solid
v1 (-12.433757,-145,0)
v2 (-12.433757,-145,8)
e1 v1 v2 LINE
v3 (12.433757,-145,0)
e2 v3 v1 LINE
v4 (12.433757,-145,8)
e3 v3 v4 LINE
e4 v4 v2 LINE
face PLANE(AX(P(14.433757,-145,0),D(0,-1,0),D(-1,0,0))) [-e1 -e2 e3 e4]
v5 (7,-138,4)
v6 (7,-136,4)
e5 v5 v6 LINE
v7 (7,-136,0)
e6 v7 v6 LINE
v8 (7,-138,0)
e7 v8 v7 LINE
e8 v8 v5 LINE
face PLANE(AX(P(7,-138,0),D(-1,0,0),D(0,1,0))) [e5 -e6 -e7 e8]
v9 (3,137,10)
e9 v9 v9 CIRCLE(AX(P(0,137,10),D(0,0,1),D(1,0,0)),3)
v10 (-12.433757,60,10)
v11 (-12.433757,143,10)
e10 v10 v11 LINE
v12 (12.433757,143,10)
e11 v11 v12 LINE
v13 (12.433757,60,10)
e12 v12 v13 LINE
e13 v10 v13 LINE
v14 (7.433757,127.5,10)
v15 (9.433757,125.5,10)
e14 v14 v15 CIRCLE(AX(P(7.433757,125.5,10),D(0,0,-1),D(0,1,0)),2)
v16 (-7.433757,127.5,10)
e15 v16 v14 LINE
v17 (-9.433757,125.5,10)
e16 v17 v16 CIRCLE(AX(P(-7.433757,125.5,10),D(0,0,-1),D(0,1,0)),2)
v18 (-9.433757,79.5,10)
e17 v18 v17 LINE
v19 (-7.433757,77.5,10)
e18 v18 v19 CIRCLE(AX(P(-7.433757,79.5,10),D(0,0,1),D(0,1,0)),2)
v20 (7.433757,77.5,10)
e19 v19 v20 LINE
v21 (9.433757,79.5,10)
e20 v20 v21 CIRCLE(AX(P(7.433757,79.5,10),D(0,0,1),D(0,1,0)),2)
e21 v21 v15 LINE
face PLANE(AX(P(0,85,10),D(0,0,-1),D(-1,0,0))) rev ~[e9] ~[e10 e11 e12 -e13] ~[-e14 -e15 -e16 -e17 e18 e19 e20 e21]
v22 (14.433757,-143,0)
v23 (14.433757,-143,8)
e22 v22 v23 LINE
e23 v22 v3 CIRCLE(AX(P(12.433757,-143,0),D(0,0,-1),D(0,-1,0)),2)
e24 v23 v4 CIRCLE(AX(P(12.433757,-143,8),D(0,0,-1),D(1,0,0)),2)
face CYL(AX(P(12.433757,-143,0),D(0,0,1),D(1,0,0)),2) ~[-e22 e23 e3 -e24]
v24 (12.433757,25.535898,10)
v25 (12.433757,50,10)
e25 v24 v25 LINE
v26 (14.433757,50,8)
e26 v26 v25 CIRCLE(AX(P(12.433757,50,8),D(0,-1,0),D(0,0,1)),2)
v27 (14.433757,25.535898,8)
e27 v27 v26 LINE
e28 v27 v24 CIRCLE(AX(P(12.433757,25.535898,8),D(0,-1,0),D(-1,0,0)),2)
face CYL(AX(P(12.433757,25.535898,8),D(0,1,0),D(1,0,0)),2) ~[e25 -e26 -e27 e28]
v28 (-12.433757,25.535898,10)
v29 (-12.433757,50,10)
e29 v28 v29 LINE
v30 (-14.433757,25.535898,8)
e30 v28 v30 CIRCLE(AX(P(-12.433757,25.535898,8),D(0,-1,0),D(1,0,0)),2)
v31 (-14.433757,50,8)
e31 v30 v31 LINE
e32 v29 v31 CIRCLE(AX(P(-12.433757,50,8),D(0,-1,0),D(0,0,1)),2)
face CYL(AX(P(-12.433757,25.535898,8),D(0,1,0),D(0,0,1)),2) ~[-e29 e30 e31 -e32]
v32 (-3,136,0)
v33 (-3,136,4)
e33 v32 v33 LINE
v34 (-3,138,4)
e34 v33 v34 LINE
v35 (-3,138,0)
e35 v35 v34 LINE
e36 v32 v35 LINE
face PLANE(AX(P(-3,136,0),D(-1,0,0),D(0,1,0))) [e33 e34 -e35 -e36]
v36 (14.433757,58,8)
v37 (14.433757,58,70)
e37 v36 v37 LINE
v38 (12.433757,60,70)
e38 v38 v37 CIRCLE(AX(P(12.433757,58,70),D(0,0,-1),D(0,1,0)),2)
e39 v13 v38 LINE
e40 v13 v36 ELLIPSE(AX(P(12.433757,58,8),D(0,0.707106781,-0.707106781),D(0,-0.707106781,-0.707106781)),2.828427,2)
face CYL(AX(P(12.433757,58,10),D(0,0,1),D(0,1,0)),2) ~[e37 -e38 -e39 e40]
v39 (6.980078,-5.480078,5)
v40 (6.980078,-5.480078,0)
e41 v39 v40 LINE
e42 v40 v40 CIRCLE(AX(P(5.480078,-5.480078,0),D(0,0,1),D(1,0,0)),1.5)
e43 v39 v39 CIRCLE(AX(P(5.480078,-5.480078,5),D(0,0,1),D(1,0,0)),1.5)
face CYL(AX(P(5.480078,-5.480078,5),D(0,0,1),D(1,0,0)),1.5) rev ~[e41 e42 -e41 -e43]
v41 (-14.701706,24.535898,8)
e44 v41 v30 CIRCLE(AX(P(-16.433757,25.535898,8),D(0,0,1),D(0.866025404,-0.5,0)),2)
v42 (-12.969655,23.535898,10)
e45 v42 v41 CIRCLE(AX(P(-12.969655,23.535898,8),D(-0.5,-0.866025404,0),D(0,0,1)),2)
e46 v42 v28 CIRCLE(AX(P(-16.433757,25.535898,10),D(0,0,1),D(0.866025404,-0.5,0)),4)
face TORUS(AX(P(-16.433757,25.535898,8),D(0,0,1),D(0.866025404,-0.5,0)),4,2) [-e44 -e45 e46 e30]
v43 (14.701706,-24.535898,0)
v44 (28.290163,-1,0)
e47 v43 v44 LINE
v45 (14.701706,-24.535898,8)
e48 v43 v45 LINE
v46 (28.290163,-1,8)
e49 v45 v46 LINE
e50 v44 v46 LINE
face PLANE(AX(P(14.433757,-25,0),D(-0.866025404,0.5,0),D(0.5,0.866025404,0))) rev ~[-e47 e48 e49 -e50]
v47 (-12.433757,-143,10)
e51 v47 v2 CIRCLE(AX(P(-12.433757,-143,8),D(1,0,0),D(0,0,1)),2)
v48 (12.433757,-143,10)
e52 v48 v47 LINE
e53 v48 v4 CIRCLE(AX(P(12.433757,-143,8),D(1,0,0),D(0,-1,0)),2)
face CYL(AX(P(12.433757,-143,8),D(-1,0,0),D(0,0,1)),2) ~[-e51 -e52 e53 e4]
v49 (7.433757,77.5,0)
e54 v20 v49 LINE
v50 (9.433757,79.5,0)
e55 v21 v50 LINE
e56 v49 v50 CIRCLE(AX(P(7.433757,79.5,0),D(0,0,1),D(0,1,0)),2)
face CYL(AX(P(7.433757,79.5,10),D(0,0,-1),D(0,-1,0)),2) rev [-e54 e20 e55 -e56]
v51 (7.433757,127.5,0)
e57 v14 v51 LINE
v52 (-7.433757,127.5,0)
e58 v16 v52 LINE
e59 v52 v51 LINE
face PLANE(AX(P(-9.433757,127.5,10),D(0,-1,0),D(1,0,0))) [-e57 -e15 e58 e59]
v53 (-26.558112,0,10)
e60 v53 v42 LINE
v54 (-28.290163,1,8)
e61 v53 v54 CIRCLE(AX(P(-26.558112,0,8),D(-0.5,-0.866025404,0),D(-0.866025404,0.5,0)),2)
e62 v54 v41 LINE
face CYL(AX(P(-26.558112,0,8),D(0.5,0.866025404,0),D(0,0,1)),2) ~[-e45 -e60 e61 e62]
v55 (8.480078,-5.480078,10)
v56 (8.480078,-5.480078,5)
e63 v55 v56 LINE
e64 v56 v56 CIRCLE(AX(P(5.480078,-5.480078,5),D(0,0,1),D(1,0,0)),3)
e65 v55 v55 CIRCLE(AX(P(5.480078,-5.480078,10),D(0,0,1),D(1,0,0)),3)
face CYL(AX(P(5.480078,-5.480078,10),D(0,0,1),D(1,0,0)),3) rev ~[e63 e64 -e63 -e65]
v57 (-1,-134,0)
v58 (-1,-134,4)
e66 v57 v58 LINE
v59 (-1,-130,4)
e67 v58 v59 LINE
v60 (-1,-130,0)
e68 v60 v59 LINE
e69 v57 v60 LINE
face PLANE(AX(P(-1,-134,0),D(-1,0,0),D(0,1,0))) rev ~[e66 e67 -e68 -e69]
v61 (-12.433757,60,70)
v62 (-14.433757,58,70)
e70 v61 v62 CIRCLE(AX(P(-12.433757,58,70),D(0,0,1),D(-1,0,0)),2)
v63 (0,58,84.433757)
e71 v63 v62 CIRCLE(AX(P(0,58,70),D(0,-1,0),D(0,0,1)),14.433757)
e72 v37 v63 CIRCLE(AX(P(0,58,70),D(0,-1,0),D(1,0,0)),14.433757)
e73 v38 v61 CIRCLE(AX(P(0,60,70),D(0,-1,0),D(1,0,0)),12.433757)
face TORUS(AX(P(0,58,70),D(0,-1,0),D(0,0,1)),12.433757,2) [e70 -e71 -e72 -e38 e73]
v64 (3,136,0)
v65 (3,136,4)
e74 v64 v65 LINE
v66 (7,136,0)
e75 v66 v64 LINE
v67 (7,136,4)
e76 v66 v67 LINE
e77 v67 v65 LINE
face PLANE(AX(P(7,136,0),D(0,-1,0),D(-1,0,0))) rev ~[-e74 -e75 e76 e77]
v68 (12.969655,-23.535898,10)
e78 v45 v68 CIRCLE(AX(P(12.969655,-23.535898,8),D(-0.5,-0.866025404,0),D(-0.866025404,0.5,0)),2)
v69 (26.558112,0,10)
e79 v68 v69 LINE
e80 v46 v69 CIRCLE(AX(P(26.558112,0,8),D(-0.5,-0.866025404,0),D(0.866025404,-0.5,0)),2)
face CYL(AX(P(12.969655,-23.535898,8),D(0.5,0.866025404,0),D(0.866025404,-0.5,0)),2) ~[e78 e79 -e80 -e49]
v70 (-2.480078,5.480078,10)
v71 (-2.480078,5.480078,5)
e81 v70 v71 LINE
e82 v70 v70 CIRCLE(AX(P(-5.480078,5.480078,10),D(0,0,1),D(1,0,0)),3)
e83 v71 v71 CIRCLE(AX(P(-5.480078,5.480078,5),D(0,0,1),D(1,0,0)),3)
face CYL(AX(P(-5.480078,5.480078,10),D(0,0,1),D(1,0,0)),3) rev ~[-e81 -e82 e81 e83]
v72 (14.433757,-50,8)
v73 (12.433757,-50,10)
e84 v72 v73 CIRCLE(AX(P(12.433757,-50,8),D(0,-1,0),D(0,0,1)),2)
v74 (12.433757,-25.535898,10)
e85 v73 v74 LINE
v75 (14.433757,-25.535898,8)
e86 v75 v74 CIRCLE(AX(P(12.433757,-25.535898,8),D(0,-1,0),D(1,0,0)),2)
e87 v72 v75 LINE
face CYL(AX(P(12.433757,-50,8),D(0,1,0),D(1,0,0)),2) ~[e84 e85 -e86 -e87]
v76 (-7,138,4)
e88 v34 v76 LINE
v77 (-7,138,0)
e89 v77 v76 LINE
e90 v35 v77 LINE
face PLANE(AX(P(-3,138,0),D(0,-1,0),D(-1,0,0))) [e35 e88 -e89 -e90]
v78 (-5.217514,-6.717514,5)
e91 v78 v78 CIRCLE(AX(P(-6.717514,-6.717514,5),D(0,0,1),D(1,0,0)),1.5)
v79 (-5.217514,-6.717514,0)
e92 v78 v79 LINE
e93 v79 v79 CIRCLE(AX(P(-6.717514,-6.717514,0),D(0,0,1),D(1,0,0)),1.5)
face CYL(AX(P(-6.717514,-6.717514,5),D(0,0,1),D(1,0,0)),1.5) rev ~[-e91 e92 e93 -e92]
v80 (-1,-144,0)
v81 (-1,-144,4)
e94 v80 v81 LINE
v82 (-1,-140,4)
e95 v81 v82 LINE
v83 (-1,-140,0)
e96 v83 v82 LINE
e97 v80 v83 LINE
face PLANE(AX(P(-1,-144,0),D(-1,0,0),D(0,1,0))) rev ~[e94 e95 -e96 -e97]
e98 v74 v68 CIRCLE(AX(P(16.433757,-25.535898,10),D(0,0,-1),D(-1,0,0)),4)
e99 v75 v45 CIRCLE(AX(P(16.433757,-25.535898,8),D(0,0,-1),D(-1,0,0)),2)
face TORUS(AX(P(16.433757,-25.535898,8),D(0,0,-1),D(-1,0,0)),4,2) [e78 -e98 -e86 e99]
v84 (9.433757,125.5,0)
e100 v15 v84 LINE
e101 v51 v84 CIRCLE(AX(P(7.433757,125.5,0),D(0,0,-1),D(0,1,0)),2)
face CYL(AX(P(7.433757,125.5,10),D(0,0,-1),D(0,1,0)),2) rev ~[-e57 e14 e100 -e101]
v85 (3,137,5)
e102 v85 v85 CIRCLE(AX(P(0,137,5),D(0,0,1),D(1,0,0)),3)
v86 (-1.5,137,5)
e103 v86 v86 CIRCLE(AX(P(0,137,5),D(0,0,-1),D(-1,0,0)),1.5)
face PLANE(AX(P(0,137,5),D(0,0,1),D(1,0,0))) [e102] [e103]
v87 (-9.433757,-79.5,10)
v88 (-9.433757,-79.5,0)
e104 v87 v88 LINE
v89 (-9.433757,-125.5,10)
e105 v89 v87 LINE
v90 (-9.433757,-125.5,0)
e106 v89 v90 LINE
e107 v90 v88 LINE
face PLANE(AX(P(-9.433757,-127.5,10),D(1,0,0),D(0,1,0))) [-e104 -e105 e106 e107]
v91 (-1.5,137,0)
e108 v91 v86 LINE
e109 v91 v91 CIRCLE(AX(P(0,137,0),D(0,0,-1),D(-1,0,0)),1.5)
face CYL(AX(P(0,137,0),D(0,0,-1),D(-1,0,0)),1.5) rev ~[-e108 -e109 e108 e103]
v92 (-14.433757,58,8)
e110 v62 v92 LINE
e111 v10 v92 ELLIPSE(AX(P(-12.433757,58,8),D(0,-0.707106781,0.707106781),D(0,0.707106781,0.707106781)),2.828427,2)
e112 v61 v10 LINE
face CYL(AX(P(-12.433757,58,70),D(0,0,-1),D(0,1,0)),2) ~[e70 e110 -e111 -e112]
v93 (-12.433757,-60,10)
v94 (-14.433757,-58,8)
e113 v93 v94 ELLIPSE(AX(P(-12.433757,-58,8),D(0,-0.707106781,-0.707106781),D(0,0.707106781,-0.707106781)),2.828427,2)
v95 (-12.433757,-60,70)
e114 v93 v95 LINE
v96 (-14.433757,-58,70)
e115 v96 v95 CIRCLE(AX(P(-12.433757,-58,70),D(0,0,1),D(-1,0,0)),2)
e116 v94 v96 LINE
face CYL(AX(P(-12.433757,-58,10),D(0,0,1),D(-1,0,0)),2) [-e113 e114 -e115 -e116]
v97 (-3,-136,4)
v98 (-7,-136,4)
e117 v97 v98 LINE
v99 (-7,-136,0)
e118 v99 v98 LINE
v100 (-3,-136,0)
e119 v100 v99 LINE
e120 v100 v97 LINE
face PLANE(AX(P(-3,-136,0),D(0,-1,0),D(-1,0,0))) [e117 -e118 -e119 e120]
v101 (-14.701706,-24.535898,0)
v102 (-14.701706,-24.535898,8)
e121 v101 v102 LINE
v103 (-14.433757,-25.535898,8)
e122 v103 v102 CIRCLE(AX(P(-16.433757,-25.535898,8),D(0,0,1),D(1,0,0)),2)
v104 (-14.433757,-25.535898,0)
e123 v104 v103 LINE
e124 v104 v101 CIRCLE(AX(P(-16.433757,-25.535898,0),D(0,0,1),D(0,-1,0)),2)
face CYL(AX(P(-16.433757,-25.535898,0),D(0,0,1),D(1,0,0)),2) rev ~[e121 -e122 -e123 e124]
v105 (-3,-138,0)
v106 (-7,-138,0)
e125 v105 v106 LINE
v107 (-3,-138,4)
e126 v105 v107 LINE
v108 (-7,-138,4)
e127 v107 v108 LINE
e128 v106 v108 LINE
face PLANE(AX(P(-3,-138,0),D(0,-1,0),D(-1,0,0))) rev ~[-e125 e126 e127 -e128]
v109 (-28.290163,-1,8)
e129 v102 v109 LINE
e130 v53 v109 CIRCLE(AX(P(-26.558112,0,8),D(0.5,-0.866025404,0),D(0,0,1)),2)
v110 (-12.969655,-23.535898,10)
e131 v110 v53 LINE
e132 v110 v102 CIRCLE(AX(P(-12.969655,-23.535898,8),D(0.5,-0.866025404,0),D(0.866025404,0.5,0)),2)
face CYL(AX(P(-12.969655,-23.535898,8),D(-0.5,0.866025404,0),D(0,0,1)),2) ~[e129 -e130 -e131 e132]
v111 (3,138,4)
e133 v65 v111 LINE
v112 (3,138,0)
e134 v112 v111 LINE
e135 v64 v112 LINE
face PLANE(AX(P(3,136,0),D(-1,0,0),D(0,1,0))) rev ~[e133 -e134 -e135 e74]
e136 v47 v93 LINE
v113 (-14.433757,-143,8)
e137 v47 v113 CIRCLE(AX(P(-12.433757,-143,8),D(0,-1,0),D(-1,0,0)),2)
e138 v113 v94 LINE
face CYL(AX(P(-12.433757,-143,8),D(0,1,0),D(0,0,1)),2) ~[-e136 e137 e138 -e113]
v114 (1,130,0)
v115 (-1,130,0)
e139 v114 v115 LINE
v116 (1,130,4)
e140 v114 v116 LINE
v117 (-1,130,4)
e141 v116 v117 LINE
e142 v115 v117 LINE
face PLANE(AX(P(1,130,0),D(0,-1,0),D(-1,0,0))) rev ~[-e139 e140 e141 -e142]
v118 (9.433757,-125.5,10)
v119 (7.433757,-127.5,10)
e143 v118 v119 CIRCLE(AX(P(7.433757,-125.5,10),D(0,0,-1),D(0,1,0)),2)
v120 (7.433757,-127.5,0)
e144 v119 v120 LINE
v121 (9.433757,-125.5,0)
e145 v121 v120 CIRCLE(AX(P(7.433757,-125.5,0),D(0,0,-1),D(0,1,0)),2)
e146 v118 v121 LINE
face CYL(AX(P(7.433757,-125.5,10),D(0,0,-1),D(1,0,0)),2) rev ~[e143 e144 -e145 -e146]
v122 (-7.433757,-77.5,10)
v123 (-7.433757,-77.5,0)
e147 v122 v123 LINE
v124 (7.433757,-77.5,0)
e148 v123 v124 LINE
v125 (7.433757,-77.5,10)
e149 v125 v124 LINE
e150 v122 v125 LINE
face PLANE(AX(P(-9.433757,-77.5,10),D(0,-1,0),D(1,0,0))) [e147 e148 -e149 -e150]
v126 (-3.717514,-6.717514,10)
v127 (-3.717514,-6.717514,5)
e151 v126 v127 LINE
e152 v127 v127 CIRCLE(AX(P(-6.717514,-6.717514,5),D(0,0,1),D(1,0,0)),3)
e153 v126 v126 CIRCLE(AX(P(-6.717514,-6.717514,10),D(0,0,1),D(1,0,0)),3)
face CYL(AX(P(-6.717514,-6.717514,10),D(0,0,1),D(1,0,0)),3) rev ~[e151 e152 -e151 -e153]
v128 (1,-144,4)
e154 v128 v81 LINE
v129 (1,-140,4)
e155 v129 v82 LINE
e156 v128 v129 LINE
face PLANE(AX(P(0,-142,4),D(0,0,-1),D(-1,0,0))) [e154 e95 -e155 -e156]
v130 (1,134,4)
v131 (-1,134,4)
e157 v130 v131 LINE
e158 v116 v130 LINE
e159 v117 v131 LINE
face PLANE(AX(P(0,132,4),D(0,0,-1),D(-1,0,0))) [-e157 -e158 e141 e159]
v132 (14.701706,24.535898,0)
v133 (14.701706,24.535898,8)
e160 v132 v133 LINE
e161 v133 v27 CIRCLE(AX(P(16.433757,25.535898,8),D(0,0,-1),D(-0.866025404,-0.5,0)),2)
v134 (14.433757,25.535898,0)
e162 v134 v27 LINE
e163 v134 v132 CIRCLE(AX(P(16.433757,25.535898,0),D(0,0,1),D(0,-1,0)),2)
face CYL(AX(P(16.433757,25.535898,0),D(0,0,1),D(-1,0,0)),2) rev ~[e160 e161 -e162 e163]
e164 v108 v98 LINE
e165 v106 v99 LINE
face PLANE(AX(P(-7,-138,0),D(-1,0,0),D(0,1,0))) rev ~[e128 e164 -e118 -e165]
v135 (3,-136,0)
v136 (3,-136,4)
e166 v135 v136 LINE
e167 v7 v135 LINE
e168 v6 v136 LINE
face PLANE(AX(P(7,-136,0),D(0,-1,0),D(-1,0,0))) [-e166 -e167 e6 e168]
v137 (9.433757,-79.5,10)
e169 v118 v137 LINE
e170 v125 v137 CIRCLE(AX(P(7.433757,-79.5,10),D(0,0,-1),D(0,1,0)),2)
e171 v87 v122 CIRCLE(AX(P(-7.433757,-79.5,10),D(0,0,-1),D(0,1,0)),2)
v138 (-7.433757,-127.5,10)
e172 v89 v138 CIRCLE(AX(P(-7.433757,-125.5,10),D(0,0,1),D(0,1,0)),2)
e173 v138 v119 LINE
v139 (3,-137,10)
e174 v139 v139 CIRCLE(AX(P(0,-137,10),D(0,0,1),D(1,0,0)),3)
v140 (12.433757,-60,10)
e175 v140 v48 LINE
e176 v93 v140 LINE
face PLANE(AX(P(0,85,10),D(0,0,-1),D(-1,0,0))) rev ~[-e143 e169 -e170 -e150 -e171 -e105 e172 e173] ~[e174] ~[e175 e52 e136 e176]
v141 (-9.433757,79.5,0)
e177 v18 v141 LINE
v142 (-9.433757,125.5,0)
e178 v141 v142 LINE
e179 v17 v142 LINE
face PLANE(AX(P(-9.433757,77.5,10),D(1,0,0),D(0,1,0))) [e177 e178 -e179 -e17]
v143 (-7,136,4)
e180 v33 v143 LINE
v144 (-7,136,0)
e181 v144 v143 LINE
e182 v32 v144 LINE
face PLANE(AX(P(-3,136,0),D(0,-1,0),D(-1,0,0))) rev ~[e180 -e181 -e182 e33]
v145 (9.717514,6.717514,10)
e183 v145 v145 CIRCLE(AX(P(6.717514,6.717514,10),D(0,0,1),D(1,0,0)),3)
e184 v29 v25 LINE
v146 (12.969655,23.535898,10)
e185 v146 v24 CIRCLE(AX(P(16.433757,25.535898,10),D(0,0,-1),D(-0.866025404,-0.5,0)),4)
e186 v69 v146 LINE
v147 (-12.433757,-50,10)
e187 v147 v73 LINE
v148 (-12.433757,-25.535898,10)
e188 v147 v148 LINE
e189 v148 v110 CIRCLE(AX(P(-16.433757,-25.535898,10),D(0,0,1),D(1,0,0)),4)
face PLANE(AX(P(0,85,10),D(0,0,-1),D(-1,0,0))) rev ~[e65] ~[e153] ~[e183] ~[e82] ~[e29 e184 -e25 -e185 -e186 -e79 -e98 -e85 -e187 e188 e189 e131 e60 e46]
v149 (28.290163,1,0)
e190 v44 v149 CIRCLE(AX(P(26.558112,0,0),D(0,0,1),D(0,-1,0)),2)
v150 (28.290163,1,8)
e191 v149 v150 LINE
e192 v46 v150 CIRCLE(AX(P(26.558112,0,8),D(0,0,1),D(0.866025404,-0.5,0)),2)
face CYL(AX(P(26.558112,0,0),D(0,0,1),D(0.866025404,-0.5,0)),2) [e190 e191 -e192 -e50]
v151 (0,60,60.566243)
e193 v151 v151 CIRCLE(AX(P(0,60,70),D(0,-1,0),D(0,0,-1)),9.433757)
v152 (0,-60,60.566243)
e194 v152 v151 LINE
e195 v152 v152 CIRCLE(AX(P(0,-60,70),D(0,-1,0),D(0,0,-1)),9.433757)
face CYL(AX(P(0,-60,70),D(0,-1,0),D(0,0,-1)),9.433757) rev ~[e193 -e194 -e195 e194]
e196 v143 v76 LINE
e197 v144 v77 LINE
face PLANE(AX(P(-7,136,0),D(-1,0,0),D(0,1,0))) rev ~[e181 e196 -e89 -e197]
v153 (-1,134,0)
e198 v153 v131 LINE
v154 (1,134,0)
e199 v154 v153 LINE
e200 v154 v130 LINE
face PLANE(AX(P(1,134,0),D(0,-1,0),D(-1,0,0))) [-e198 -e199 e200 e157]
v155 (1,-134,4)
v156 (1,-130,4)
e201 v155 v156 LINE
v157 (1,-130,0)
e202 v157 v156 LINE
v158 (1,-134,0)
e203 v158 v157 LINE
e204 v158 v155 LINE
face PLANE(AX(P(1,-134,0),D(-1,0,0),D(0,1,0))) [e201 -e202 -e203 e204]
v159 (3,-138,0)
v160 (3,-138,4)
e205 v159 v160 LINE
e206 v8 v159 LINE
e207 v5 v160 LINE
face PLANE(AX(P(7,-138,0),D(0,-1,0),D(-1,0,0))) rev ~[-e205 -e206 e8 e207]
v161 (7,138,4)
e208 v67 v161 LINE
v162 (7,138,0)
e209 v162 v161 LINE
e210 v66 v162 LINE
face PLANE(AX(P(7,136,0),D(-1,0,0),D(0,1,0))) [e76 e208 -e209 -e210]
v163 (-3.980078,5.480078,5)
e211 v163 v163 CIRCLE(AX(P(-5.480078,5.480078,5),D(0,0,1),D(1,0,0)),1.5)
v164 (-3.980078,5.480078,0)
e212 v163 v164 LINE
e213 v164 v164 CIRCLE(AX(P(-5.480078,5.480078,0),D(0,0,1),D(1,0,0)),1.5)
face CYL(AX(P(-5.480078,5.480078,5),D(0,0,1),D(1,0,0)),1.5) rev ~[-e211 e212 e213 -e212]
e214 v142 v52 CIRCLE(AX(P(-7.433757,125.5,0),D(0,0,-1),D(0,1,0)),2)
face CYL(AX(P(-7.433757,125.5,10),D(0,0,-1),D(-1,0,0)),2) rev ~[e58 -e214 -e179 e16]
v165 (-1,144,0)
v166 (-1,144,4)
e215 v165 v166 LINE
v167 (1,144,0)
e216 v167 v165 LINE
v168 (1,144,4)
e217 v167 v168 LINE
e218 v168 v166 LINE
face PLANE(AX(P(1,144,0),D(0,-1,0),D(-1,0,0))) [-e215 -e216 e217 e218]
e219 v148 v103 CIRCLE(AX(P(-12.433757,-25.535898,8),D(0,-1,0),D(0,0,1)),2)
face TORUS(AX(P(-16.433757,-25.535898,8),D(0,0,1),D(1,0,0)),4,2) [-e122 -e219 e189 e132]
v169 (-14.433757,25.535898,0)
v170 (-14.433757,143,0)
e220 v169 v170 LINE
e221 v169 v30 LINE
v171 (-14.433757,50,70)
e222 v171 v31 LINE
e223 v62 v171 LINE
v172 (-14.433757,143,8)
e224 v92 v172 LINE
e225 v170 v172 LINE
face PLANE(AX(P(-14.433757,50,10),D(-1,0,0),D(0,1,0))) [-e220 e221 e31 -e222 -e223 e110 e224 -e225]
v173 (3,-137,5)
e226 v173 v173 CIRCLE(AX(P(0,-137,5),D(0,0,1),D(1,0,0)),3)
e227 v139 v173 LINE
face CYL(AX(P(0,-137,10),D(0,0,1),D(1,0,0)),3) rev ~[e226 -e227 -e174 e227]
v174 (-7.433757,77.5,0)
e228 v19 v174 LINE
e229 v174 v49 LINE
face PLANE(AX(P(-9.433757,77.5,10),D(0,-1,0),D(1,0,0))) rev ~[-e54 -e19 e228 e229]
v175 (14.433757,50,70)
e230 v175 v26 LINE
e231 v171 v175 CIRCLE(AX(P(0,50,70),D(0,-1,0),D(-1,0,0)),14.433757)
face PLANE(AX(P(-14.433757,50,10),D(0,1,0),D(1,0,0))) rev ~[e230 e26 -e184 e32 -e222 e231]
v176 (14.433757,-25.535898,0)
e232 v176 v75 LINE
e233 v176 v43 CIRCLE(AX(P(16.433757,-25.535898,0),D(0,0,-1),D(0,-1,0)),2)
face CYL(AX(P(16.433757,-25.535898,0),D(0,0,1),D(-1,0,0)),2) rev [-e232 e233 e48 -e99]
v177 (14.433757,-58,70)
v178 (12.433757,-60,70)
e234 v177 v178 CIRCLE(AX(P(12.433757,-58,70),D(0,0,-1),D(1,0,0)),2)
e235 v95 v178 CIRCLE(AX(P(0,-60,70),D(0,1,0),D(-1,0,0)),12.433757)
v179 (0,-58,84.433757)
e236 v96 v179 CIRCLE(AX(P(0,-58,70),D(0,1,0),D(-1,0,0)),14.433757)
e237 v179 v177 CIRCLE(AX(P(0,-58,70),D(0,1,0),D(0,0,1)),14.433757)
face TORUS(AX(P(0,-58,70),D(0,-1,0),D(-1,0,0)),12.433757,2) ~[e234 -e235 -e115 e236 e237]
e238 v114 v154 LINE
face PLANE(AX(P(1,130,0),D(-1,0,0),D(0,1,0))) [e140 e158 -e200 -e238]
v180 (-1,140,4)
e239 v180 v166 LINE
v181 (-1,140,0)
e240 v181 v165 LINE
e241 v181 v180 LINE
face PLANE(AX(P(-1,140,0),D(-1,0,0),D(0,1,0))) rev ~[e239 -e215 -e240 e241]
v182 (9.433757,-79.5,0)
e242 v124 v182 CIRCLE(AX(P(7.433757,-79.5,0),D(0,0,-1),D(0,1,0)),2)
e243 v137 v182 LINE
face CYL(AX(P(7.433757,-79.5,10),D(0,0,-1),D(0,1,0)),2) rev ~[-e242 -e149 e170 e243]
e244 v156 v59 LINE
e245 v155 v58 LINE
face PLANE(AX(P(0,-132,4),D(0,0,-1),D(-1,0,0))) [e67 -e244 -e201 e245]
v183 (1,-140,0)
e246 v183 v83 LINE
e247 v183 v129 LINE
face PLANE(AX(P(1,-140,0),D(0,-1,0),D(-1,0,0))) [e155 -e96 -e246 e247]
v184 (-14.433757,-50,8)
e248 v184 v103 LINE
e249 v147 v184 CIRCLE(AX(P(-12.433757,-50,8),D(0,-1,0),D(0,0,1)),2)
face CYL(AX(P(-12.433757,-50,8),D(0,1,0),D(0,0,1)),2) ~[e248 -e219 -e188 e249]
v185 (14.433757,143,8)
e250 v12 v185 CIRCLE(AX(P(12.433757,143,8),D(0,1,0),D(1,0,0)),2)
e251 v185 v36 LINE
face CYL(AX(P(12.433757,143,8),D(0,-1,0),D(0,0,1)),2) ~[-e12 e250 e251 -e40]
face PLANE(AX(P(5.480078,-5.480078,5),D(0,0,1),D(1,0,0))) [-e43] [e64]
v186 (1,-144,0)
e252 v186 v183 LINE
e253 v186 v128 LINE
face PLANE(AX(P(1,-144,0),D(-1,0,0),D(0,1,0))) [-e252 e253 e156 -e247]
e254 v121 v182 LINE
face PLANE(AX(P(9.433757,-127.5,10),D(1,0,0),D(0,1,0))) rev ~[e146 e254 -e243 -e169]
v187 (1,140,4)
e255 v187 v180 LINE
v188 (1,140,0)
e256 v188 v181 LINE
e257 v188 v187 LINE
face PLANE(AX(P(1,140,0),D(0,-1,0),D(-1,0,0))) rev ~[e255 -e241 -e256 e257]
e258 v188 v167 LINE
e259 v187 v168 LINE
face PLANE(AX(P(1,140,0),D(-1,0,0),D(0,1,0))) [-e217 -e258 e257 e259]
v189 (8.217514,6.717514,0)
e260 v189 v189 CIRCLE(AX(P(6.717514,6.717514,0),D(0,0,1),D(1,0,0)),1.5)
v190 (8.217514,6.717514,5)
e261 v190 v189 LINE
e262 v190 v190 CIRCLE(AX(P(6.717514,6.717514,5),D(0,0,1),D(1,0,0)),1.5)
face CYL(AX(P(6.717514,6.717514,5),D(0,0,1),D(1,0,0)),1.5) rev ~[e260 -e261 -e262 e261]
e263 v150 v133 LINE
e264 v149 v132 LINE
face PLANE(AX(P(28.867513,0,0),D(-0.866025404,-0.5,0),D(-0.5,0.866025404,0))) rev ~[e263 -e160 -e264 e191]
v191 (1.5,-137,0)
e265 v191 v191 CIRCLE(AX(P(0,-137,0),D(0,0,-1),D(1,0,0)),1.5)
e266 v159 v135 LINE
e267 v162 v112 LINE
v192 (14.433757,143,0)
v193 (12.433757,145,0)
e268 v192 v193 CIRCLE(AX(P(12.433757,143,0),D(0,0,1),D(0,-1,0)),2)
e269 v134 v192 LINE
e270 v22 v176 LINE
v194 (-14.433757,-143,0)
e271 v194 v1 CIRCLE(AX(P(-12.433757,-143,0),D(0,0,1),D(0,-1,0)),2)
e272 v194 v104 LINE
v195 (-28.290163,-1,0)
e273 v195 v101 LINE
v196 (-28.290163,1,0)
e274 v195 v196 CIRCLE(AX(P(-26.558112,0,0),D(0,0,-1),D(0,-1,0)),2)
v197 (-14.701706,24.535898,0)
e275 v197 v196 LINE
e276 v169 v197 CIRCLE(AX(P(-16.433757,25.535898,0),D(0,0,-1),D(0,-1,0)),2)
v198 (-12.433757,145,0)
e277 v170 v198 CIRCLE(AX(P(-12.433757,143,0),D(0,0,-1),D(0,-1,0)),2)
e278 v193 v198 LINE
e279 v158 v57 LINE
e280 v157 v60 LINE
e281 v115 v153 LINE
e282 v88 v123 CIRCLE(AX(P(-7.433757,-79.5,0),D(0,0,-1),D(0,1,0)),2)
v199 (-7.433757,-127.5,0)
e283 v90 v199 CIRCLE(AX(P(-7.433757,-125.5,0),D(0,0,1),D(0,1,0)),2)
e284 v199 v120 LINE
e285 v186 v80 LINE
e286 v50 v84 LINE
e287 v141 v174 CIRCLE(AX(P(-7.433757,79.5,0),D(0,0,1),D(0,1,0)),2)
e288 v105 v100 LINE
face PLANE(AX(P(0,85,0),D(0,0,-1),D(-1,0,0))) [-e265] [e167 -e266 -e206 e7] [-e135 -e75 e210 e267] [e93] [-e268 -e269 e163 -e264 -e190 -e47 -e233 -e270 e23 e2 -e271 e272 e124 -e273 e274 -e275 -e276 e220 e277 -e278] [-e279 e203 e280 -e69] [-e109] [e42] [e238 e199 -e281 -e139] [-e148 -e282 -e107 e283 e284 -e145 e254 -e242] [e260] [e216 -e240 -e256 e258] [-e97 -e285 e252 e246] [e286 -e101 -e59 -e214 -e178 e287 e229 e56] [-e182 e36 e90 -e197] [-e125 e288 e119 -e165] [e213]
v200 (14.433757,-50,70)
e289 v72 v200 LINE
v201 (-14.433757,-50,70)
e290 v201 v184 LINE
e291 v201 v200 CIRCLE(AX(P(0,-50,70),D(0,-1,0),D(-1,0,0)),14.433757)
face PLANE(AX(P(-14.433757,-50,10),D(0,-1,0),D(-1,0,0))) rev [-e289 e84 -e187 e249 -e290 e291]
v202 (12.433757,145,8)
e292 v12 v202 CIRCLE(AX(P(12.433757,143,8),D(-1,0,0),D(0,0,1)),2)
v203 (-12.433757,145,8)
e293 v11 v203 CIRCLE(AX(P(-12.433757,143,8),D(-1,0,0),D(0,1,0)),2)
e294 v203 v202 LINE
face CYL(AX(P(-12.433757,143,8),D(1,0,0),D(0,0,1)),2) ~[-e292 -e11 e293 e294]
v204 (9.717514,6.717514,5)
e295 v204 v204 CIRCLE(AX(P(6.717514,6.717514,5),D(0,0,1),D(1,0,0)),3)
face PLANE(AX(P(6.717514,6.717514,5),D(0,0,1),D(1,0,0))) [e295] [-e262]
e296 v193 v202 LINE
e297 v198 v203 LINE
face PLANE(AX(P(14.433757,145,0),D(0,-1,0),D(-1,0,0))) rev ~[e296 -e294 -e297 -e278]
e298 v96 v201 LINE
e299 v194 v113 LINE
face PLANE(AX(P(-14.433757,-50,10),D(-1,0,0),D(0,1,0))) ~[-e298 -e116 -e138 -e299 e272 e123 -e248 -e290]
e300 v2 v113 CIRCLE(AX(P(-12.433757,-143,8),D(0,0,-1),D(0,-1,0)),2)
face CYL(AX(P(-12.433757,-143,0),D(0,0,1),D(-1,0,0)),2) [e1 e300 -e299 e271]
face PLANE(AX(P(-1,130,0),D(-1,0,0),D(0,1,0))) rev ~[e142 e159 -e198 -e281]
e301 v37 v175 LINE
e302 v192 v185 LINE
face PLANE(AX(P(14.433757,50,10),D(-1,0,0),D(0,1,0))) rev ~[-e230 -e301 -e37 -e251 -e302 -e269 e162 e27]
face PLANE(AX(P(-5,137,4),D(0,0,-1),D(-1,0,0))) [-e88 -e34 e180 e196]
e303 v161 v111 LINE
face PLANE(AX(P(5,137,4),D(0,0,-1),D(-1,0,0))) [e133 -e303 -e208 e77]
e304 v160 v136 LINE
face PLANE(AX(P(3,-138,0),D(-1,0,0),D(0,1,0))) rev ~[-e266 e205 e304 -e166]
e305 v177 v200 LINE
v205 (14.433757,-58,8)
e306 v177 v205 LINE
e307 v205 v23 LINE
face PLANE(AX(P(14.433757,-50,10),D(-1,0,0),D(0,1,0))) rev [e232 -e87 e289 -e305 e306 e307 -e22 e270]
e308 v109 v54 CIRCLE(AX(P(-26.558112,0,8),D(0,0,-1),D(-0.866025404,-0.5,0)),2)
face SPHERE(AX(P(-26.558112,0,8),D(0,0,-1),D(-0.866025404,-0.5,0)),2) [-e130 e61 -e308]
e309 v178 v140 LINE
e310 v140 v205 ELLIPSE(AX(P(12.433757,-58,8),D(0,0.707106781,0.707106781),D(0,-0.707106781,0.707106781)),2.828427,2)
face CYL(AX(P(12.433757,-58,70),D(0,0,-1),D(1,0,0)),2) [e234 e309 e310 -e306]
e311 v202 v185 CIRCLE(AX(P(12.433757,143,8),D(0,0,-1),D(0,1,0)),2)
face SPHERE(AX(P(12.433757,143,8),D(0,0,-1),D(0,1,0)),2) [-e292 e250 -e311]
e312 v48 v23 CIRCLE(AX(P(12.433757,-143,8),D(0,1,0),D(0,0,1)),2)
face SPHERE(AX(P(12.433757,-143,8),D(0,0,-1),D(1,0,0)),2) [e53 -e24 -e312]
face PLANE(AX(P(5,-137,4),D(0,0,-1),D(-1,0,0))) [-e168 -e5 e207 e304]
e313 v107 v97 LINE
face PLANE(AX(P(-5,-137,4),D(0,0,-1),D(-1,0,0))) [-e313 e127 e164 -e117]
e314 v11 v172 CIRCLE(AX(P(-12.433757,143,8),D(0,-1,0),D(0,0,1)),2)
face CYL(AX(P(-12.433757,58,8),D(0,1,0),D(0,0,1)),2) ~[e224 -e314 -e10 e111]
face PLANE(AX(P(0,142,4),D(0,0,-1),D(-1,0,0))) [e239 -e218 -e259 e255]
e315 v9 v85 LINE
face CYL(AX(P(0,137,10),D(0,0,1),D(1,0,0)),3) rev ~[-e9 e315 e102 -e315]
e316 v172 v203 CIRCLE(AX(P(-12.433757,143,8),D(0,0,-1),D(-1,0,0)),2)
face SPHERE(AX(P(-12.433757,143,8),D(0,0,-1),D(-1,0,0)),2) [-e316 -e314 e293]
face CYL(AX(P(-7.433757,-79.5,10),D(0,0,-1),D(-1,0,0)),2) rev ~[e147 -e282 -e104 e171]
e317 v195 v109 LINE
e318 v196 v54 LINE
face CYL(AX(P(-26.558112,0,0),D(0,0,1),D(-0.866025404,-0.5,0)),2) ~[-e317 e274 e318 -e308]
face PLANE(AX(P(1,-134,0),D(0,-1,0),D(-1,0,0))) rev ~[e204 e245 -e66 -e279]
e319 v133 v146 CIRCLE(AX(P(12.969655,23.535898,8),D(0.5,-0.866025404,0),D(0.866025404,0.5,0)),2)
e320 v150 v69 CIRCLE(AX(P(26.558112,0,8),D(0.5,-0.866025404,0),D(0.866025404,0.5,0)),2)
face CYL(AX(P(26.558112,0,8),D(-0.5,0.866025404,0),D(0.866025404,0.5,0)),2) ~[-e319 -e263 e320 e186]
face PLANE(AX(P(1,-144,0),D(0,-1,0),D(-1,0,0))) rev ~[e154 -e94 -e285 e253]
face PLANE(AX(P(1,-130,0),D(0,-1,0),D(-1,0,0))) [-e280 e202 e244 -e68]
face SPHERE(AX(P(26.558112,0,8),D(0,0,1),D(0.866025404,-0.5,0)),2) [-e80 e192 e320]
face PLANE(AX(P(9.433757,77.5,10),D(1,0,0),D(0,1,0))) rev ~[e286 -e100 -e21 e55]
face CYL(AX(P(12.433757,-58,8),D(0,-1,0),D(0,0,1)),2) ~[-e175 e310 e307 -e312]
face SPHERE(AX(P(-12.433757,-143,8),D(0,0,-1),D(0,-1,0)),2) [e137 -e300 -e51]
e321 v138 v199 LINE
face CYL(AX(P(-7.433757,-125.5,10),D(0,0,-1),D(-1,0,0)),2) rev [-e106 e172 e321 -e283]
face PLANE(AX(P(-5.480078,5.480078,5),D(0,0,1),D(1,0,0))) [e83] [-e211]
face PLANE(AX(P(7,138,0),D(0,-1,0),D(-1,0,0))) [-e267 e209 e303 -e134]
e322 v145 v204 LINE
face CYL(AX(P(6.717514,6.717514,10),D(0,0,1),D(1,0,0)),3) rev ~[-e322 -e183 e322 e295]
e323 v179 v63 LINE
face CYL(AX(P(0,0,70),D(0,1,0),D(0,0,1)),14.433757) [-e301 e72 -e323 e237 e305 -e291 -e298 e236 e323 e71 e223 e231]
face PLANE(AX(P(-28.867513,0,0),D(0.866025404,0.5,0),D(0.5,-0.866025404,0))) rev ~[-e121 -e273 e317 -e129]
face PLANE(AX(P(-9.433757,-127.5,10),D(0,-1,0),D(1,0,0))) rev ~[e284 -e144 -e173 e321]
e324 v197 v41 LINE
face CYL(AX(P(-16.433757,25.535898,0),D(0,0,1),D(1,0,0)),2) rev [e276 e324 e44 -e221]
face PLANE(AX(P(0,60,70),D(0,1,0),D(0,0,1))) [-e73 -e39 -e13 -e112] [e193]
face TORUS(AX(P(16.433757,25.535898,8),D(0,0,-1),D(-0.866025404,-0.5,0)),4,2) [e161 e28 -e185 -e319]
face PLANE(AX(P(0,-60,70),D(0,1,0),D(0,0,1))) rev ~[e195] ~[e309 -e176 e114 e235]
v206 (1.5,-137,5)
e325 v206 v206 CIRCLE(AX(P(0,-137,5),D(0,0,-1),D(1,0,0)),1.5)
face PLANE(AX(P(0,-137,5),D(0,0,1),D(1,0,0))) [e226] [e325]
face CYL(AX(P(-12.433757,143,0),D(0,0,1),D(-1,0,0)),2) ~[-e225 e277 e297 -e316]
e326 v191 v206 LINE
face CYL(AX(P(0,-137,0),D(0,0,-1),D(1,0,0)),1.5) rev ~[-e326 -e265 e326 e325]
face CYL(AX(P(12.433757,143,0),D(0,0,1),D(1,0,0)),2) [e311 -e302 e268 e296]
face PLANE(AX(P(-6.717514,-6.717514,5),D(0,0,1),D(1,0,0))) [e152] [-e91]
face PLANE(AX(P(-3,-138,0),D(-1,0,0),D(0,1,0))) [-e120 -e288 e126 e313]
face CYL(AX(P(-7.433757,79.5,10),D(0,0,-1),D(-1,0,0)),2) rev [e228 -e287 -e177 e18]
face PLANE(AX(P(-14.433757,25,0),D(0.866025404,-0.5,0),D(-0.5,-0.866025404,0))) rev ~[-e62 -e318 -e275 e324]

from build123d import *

# Parameters (mm, degrees)
BOSS_EXTRUDE2_DEPTH      = 10
SKETCH2_R                = 3
CUT_EXTRUDE1_DEPTH       = 5
CUT_EXTRUDE2_REACH       = 40.514
SKETCH3_R                = 1.5
SKETCH4_W                = 28.86751346
SKETCH4_H                = 120
SKETCH4_R                = 1.5
BOSS_EXTRUDE4_DEPTH      = 10
SKETCH5_R                = 3
CUT_EXTRUDE3_DEPTH       = 5
SKETCH6_W                = 4
SKETCH6_H                = 2
SKETCH6_W_2              = 2
SKETCH6_H_2              = 4
CUT_EXTRUDE4_DEPTH       = 4
SKETCH7_R                = 14.43375673
BOSS_EXTRUDE5_DEPTH      = 60
SKETCH8_R                = 9.43375673
CUT_EXTRUDE6_DEPTH       = 120
BOSS_EXTRUDE6_REACH      = 167.526
BOSS_EXTRUDE6_END_RADIUS = 14.43375673
SKETCH11_W               = 28.86751346
SKETCH11_H               = 10
CUT_EXTRUDE7_REACH       = 167.526
SKETCH13_W               = 18.86751346
SKETCH13_H               = 50
FILLET3_R                = 2
FILLET4_R                = 2


with BuildPart() as part:
    # Sketch1 → Boss-Extrude2 (new body)
    with BuildSketch(Plane.XY):
        Polygon((14.43375673, 25), (-14.43375673, 25), (-28.867513459, 0), (-14.43375673, -25), (14.43375673, -25), (28.867513459, 0), align=None)
    extrude(amount=BOSS_EXTRUDE2_DEPTH)

    # Sketch2 → Cut-Extrude1 (cut)
    with BuildSketch(Plane.XY.offset(10)):
        with Locations((-5.480077554, 5.480077554)):
            Circle(SKETCH2_R)
        with Locations((6.717514421, 6.717514421)):
            Circle(SKETCH2_R)
        with Locations((5.480077554, -5.480077554)):
            Circle(SKETCH2_R)
        with Locations((-6.717514421, -6.717514421)):
            Circle(SKETCH2_R)
    extrude(amount=-CUT_EXTRUDE1_DEPTH, mode=Mode.SUBTRACT)

    # Sketch3 → Cut-Extrude2 (cut, up to next)
    with BuildSketch(Plane.XY.offset(5), mode=Mode.PRIVATE) as cut_extrude2_sk1:
        with Locations((-5.480077554, 5.480077554)):
            Circle(SKETCH3_R)
    cut_extrude2_tool1 = extrude(cut_extrude2_sk1.sketch, amount=-CUT_EXTRUDE2_REACH, mode=Mode.PRIVATE) & part.part
    # Sketch3 → Cut-Extrude2 (cut, up to next)
    with BuildSketch(Plane.XY.offset(5), mode=Mode.PRIVATE) as cut_extrude2_sk2:
        with Locations((6.717514421, 6.717514421)):
            Circle(SKETCH3_R)
    cut_extrude2_tool2 = extrude(cut_extrude2_sk2.sketch, amount=-CUT_EXTRUDE2_REACH, mode=Mode.PRIVATE) & part.part
    # Sketch3 → Cut-Extrude2 (cut, up to next)
    with BuildSketch(Plane.XY.offset(5), mode=Mode.PRIVATE) as cut_extrude2_sk3:
        with Locations((5.480077554, -5.480077554)):
            Circle(SKETCH3_R)
    cut_extrude2_tool3 = extrude(cut_extrude2_sk3.sketch, amount=-CUT_EXTRUDE2_REACH, mode=Mode.PRIVATE) & part.part
    # Sketch3 → Cut-Extrude2 (cut, up to next)
    with BuildSketch(Plane.XY.offset(5), mode=Mode.PRIVATE) as cut_extrude2_sk4:
        with Locations((-6.717514421, -6.717514421)):
            Circle(SKETCH3_R)
    cut_extrude2_tool4 = extrude(cut_extrude2_sk4.sketch, amount=-CUT_EXTRUDE2_REACH, mode=Mode.PRIVATE) & part.part
    add(cut_extrude2_tool1.solids().sort_by_distance((-5.480078, 5.480078, 5))[0], mode=Mode.SUBTRACT)
    add(cut_extrude2_tool2.solids().sort_by_distance((6.717514, 6.717514, 5))[0], mode=Mode.SUBTRACT)
    add(cut_extrude2_tool3.solids().sort_by_distance((5.480078, -5.480078, 5))[0], mode=Mode.SUBTRACT)
    add(cut_extrude2_tool4.solids().sort_by_distance((-6.717514, -6.717514, 5))[0], mode=Mode.SUBTRACT)

    # Sketch4 → Boss-Extrude4 (add)
    with BuildSketch(Plane(origin=(0, 0, 0), x_dir=(-1, 0, 0), z_dir=(0, 0, -1))):
        with Locations((0, 85)):
            Rectangle(SKETCH4_W, SKETCH4_H)
        with Locations((0, 137)):
            Circle(SKETCH4_R, mode=Mode.SUBTRACT)
        with Locations((0, -85)):
            Rectangle(SKETCH4_W, SKETCH4_H)
        with Locations(Location((0, -137, 0), (0, 0, 180))):
            Circle(SKETCH4_R, mode=Mode.SUBTRACT)
    extrude(amount=-BOSS_EXTRUDE4_DEPTH)

    # Sketch5 → Cut-Extrude3 (cut)
    with BuildSketch(Plane.XY.offset(10)):
        with Locations((0, 137)):
            Circle(SKETCH5_R)
        with Locations((0, -137)):
            Circle(SKETCH5_R)
    extrude(amount=-CUT_EXTRUDE3_DEPTH, mode=Mode.SUBTRACT)

    # Sketch6 → Cut-Extrude4 (cut)
    with BuildSketch(Plane(origin=(0, 0, 0), x_dir=(-1, 0, 0), z_dir=(0, 0, -1))):
        with Locations((5, 137)):
            Rectangle(SKETCH6_W, SKETCH6_H)
        with Locations((0, 142)):
            Rectangle(SKETCH6_W_2, SKETCH6_H_2)
        with Locations((0, 132)):
            Rectangle(SKETCH6_W_2, SKETCH6_H_2)
        with Locations((-5, 137)):
            Rectangle(SKETCH6_W, SKETCH6_H)
        with Locations((0, -132)):
            Rectangle(SKETCH6_W_2, SKETCH6_H_2)
        with Locations((5, -137)):
            Rectangle(SKETCH6_W, SKETCH6_H)
        with Locations((-5, -137)):
            Rectangle(SKETCH6_W, SKETCH6_H)
        with Locations((0, -142)):
            Rectangle(SKETCH6_W_2, SKETCH6_H_2)
    extrude(amount=-CUT_EXTRUDE4_DEPTH, mode=Mode.SUBTRACT)



with BuildPart() as body_2:
    # Sketch7 → Boss-Extrude5 (new, symmetric)
    with BuildSketch(Plane(origin=(0, 0, 0), x_dir=(1, 0, 0), z_dir=(0, 1, 0))):
        with Locations(Location((0, -70, 0), (0, 0, 270))):
            Circle(SKETCH7_R)
    extrude(amount=BOSS_EXTRUDE5_DEPTH, both=True)

    # Sketch8 → Cut-Extrude6 (cut)
    with BuildSketch(Plane.XZ.offset(60)):
        with Locations(Location((0, 70, 0), (0, 0, 270))):
            Circle(SKETCH8_R)
    extrude(amount=-CUT_EXTRUDE6_DEPTH, mode=Mode.SUBTRACT)


with BuildPart() as part_1:
    add(part.part)

    add(body_2.part)  # Boss-Extrude6 merges body 2
    # Boss-Extrude6: up to this cylinder (the profile starts outside it)
    boss_extrude6_end = Plane(origin=(0, 55, 70), z_dir=(0, -1, 0)) * Cylinder(BOSS_EXTRUDE6_END_RADIUS, 364.919513459, mode=Mode.PRIVATE)
    # Sketch11 → Boss-Extrude6 (add, up to the surface)
    with BuildSketch(Plane.XY.offset(10), mode=Mode.PRIVATE) as boss_extrude6_sk1:
        with Locations((0, 55)):
            Rectangle(SKETCH11_W, SKETCH11_H)
    boss_extrude6_tool1 = extrude(boss_extrude6_sk1.sketch, amount=BOSS_EXTRUDE6_REACH, mode=Mode.PRIVATE) - boss_extrude6_end
    boss_extrude6 = boss_extrude6_tool1.solids().sort_by_distance((0, 55, 10))[0]
    add(boss_extrude6)

    # Mirror1: Boss-Extrude6 across plane
    add(boss_extrude6.mirror(Plane.ZX))

    # Sketch13 → Cut-Extrude7 (cut, up to next)
    with BuildSketch(Plane.XY.offset(10), mode=Mode.PRIVATE) as cut_extrude7_sk1:
        with Locations((0, 102.5)):
            Rectangle(SKETCH13_W, SKETCH13_H)
    cut_extrude7_tool1 = extrude(cut_extrude7_sk1.sketch, amount=-CUT_EXTRUDE7_REACH, mode=Mode.PRIVATE) & part_1.part
    # Sketch13 → Cut-Extrude7 (cut, up to next)
    with BuildSketch(Plane.XY.offset(10), mode=Mode.PRIVATE) as cut_extrude7_sk2:
        with Locations((0, -102.5)):
            Rectangle(SKETCH13_W, SKETCH13_H)
    cut_extrude7_tool2 = extrude(cut_extrude7_sk2.sketch, amount=-CUT_EXTRUDE7_REACH, mode=Mode.PRIVATE) & part_1.part
    add(cut_extrude7_tool1.solids().sort_by_distance((0, 102.5, 10))[0], mode=Mode.SUBTRACT)
    add(cut_extrude7_tool2.solids().sort_by_distance((0, -102.5, 10))[0], mode=Mode.SUBTRACT)

    # Fillet3
    fillet3_edges = [part_1.edges().sort_by_distance(p)[0] for p in [
        (28.867513459, 0, 5),
        (14.43375673, -25, 5),
        (-14.43375673, -25, 5),
        (-28.867513459, 0, 5),
        (-14.43375673, 25, 5),
        (14.43375673, 25, 5),
        (14.43375673, 60, 40),
        (-14.43375673, 60, 40),
        (10.206207262, 60, 80.206207262),
        (10.206207262, -60, 80.206207262),
        (-14.43375673, -60, 40),
        (14.43375673, -60, 40),
        (-9.43375673, 77.5, 5),
        (-9.43375673, 127.5, 5),
        (9.43375673, 127.5, 5),
        (9.43375673, 77.5, 5),
        (9.43375673, -77.5, 5),
        (9.43375673, -127.5, 5),
        (-9.43375673, -127.5, 5),
        (-9.43375673, -77.5, 5),
        (14.43375673, 145, 5),
        (-14.43375673, 145, 5),
        (14.43375673, -145, 5),
        (-14.43375673, -145, 5),
    ]]
    fillet(fillet3_edges, radius=FILLET3_R)

    # Fillet4
    fillet4_edges = [part_1.edges().sort_by_distance(p)[0] for p in [
        (14.43375673, 37.767949192, 10),
        (-14.43375673, 100.5, 10),
        (-14.43375673, -37.767949192, 10),
        (14.43375673, -100.5, 10),
        (-14.43375673, 37.767949192, 10),
        (14.43375673, 100.5, 10),
        (21.495934556, 12.767949192, 10),
        (0, 145, 10),
        (-21.495934556, 12.767949192, 10),
        (-21.495934556, -12.767949192, 10),
        (14.43375673, -37.767949192, 10),
        (21.495934556, -12.767949192, 10),
        (-14.43375673, -100.5, 10),
        (0, -145, 10),
        (14.501905077, 25.018260295, 10),
        (-14.501905077, 25.018260295, 10),
        (-14.501905077, -25.018260295, 10),
        (14.501905077, -25.018260295, 10),
        (13.847970292, 144.414213562, 10),
        (-13.847970292, 144.414213562, 10),
        (28.558112383, 0, 10),
        (-28.558112383, 0, 10),
        (13.847970292, -144.414213562, 10),
        (-13.847970292, -144.414213562, 10),
    ]]
    fillet(fillet4_edges, radius=FILLET4_R)


solid = part_1.part
